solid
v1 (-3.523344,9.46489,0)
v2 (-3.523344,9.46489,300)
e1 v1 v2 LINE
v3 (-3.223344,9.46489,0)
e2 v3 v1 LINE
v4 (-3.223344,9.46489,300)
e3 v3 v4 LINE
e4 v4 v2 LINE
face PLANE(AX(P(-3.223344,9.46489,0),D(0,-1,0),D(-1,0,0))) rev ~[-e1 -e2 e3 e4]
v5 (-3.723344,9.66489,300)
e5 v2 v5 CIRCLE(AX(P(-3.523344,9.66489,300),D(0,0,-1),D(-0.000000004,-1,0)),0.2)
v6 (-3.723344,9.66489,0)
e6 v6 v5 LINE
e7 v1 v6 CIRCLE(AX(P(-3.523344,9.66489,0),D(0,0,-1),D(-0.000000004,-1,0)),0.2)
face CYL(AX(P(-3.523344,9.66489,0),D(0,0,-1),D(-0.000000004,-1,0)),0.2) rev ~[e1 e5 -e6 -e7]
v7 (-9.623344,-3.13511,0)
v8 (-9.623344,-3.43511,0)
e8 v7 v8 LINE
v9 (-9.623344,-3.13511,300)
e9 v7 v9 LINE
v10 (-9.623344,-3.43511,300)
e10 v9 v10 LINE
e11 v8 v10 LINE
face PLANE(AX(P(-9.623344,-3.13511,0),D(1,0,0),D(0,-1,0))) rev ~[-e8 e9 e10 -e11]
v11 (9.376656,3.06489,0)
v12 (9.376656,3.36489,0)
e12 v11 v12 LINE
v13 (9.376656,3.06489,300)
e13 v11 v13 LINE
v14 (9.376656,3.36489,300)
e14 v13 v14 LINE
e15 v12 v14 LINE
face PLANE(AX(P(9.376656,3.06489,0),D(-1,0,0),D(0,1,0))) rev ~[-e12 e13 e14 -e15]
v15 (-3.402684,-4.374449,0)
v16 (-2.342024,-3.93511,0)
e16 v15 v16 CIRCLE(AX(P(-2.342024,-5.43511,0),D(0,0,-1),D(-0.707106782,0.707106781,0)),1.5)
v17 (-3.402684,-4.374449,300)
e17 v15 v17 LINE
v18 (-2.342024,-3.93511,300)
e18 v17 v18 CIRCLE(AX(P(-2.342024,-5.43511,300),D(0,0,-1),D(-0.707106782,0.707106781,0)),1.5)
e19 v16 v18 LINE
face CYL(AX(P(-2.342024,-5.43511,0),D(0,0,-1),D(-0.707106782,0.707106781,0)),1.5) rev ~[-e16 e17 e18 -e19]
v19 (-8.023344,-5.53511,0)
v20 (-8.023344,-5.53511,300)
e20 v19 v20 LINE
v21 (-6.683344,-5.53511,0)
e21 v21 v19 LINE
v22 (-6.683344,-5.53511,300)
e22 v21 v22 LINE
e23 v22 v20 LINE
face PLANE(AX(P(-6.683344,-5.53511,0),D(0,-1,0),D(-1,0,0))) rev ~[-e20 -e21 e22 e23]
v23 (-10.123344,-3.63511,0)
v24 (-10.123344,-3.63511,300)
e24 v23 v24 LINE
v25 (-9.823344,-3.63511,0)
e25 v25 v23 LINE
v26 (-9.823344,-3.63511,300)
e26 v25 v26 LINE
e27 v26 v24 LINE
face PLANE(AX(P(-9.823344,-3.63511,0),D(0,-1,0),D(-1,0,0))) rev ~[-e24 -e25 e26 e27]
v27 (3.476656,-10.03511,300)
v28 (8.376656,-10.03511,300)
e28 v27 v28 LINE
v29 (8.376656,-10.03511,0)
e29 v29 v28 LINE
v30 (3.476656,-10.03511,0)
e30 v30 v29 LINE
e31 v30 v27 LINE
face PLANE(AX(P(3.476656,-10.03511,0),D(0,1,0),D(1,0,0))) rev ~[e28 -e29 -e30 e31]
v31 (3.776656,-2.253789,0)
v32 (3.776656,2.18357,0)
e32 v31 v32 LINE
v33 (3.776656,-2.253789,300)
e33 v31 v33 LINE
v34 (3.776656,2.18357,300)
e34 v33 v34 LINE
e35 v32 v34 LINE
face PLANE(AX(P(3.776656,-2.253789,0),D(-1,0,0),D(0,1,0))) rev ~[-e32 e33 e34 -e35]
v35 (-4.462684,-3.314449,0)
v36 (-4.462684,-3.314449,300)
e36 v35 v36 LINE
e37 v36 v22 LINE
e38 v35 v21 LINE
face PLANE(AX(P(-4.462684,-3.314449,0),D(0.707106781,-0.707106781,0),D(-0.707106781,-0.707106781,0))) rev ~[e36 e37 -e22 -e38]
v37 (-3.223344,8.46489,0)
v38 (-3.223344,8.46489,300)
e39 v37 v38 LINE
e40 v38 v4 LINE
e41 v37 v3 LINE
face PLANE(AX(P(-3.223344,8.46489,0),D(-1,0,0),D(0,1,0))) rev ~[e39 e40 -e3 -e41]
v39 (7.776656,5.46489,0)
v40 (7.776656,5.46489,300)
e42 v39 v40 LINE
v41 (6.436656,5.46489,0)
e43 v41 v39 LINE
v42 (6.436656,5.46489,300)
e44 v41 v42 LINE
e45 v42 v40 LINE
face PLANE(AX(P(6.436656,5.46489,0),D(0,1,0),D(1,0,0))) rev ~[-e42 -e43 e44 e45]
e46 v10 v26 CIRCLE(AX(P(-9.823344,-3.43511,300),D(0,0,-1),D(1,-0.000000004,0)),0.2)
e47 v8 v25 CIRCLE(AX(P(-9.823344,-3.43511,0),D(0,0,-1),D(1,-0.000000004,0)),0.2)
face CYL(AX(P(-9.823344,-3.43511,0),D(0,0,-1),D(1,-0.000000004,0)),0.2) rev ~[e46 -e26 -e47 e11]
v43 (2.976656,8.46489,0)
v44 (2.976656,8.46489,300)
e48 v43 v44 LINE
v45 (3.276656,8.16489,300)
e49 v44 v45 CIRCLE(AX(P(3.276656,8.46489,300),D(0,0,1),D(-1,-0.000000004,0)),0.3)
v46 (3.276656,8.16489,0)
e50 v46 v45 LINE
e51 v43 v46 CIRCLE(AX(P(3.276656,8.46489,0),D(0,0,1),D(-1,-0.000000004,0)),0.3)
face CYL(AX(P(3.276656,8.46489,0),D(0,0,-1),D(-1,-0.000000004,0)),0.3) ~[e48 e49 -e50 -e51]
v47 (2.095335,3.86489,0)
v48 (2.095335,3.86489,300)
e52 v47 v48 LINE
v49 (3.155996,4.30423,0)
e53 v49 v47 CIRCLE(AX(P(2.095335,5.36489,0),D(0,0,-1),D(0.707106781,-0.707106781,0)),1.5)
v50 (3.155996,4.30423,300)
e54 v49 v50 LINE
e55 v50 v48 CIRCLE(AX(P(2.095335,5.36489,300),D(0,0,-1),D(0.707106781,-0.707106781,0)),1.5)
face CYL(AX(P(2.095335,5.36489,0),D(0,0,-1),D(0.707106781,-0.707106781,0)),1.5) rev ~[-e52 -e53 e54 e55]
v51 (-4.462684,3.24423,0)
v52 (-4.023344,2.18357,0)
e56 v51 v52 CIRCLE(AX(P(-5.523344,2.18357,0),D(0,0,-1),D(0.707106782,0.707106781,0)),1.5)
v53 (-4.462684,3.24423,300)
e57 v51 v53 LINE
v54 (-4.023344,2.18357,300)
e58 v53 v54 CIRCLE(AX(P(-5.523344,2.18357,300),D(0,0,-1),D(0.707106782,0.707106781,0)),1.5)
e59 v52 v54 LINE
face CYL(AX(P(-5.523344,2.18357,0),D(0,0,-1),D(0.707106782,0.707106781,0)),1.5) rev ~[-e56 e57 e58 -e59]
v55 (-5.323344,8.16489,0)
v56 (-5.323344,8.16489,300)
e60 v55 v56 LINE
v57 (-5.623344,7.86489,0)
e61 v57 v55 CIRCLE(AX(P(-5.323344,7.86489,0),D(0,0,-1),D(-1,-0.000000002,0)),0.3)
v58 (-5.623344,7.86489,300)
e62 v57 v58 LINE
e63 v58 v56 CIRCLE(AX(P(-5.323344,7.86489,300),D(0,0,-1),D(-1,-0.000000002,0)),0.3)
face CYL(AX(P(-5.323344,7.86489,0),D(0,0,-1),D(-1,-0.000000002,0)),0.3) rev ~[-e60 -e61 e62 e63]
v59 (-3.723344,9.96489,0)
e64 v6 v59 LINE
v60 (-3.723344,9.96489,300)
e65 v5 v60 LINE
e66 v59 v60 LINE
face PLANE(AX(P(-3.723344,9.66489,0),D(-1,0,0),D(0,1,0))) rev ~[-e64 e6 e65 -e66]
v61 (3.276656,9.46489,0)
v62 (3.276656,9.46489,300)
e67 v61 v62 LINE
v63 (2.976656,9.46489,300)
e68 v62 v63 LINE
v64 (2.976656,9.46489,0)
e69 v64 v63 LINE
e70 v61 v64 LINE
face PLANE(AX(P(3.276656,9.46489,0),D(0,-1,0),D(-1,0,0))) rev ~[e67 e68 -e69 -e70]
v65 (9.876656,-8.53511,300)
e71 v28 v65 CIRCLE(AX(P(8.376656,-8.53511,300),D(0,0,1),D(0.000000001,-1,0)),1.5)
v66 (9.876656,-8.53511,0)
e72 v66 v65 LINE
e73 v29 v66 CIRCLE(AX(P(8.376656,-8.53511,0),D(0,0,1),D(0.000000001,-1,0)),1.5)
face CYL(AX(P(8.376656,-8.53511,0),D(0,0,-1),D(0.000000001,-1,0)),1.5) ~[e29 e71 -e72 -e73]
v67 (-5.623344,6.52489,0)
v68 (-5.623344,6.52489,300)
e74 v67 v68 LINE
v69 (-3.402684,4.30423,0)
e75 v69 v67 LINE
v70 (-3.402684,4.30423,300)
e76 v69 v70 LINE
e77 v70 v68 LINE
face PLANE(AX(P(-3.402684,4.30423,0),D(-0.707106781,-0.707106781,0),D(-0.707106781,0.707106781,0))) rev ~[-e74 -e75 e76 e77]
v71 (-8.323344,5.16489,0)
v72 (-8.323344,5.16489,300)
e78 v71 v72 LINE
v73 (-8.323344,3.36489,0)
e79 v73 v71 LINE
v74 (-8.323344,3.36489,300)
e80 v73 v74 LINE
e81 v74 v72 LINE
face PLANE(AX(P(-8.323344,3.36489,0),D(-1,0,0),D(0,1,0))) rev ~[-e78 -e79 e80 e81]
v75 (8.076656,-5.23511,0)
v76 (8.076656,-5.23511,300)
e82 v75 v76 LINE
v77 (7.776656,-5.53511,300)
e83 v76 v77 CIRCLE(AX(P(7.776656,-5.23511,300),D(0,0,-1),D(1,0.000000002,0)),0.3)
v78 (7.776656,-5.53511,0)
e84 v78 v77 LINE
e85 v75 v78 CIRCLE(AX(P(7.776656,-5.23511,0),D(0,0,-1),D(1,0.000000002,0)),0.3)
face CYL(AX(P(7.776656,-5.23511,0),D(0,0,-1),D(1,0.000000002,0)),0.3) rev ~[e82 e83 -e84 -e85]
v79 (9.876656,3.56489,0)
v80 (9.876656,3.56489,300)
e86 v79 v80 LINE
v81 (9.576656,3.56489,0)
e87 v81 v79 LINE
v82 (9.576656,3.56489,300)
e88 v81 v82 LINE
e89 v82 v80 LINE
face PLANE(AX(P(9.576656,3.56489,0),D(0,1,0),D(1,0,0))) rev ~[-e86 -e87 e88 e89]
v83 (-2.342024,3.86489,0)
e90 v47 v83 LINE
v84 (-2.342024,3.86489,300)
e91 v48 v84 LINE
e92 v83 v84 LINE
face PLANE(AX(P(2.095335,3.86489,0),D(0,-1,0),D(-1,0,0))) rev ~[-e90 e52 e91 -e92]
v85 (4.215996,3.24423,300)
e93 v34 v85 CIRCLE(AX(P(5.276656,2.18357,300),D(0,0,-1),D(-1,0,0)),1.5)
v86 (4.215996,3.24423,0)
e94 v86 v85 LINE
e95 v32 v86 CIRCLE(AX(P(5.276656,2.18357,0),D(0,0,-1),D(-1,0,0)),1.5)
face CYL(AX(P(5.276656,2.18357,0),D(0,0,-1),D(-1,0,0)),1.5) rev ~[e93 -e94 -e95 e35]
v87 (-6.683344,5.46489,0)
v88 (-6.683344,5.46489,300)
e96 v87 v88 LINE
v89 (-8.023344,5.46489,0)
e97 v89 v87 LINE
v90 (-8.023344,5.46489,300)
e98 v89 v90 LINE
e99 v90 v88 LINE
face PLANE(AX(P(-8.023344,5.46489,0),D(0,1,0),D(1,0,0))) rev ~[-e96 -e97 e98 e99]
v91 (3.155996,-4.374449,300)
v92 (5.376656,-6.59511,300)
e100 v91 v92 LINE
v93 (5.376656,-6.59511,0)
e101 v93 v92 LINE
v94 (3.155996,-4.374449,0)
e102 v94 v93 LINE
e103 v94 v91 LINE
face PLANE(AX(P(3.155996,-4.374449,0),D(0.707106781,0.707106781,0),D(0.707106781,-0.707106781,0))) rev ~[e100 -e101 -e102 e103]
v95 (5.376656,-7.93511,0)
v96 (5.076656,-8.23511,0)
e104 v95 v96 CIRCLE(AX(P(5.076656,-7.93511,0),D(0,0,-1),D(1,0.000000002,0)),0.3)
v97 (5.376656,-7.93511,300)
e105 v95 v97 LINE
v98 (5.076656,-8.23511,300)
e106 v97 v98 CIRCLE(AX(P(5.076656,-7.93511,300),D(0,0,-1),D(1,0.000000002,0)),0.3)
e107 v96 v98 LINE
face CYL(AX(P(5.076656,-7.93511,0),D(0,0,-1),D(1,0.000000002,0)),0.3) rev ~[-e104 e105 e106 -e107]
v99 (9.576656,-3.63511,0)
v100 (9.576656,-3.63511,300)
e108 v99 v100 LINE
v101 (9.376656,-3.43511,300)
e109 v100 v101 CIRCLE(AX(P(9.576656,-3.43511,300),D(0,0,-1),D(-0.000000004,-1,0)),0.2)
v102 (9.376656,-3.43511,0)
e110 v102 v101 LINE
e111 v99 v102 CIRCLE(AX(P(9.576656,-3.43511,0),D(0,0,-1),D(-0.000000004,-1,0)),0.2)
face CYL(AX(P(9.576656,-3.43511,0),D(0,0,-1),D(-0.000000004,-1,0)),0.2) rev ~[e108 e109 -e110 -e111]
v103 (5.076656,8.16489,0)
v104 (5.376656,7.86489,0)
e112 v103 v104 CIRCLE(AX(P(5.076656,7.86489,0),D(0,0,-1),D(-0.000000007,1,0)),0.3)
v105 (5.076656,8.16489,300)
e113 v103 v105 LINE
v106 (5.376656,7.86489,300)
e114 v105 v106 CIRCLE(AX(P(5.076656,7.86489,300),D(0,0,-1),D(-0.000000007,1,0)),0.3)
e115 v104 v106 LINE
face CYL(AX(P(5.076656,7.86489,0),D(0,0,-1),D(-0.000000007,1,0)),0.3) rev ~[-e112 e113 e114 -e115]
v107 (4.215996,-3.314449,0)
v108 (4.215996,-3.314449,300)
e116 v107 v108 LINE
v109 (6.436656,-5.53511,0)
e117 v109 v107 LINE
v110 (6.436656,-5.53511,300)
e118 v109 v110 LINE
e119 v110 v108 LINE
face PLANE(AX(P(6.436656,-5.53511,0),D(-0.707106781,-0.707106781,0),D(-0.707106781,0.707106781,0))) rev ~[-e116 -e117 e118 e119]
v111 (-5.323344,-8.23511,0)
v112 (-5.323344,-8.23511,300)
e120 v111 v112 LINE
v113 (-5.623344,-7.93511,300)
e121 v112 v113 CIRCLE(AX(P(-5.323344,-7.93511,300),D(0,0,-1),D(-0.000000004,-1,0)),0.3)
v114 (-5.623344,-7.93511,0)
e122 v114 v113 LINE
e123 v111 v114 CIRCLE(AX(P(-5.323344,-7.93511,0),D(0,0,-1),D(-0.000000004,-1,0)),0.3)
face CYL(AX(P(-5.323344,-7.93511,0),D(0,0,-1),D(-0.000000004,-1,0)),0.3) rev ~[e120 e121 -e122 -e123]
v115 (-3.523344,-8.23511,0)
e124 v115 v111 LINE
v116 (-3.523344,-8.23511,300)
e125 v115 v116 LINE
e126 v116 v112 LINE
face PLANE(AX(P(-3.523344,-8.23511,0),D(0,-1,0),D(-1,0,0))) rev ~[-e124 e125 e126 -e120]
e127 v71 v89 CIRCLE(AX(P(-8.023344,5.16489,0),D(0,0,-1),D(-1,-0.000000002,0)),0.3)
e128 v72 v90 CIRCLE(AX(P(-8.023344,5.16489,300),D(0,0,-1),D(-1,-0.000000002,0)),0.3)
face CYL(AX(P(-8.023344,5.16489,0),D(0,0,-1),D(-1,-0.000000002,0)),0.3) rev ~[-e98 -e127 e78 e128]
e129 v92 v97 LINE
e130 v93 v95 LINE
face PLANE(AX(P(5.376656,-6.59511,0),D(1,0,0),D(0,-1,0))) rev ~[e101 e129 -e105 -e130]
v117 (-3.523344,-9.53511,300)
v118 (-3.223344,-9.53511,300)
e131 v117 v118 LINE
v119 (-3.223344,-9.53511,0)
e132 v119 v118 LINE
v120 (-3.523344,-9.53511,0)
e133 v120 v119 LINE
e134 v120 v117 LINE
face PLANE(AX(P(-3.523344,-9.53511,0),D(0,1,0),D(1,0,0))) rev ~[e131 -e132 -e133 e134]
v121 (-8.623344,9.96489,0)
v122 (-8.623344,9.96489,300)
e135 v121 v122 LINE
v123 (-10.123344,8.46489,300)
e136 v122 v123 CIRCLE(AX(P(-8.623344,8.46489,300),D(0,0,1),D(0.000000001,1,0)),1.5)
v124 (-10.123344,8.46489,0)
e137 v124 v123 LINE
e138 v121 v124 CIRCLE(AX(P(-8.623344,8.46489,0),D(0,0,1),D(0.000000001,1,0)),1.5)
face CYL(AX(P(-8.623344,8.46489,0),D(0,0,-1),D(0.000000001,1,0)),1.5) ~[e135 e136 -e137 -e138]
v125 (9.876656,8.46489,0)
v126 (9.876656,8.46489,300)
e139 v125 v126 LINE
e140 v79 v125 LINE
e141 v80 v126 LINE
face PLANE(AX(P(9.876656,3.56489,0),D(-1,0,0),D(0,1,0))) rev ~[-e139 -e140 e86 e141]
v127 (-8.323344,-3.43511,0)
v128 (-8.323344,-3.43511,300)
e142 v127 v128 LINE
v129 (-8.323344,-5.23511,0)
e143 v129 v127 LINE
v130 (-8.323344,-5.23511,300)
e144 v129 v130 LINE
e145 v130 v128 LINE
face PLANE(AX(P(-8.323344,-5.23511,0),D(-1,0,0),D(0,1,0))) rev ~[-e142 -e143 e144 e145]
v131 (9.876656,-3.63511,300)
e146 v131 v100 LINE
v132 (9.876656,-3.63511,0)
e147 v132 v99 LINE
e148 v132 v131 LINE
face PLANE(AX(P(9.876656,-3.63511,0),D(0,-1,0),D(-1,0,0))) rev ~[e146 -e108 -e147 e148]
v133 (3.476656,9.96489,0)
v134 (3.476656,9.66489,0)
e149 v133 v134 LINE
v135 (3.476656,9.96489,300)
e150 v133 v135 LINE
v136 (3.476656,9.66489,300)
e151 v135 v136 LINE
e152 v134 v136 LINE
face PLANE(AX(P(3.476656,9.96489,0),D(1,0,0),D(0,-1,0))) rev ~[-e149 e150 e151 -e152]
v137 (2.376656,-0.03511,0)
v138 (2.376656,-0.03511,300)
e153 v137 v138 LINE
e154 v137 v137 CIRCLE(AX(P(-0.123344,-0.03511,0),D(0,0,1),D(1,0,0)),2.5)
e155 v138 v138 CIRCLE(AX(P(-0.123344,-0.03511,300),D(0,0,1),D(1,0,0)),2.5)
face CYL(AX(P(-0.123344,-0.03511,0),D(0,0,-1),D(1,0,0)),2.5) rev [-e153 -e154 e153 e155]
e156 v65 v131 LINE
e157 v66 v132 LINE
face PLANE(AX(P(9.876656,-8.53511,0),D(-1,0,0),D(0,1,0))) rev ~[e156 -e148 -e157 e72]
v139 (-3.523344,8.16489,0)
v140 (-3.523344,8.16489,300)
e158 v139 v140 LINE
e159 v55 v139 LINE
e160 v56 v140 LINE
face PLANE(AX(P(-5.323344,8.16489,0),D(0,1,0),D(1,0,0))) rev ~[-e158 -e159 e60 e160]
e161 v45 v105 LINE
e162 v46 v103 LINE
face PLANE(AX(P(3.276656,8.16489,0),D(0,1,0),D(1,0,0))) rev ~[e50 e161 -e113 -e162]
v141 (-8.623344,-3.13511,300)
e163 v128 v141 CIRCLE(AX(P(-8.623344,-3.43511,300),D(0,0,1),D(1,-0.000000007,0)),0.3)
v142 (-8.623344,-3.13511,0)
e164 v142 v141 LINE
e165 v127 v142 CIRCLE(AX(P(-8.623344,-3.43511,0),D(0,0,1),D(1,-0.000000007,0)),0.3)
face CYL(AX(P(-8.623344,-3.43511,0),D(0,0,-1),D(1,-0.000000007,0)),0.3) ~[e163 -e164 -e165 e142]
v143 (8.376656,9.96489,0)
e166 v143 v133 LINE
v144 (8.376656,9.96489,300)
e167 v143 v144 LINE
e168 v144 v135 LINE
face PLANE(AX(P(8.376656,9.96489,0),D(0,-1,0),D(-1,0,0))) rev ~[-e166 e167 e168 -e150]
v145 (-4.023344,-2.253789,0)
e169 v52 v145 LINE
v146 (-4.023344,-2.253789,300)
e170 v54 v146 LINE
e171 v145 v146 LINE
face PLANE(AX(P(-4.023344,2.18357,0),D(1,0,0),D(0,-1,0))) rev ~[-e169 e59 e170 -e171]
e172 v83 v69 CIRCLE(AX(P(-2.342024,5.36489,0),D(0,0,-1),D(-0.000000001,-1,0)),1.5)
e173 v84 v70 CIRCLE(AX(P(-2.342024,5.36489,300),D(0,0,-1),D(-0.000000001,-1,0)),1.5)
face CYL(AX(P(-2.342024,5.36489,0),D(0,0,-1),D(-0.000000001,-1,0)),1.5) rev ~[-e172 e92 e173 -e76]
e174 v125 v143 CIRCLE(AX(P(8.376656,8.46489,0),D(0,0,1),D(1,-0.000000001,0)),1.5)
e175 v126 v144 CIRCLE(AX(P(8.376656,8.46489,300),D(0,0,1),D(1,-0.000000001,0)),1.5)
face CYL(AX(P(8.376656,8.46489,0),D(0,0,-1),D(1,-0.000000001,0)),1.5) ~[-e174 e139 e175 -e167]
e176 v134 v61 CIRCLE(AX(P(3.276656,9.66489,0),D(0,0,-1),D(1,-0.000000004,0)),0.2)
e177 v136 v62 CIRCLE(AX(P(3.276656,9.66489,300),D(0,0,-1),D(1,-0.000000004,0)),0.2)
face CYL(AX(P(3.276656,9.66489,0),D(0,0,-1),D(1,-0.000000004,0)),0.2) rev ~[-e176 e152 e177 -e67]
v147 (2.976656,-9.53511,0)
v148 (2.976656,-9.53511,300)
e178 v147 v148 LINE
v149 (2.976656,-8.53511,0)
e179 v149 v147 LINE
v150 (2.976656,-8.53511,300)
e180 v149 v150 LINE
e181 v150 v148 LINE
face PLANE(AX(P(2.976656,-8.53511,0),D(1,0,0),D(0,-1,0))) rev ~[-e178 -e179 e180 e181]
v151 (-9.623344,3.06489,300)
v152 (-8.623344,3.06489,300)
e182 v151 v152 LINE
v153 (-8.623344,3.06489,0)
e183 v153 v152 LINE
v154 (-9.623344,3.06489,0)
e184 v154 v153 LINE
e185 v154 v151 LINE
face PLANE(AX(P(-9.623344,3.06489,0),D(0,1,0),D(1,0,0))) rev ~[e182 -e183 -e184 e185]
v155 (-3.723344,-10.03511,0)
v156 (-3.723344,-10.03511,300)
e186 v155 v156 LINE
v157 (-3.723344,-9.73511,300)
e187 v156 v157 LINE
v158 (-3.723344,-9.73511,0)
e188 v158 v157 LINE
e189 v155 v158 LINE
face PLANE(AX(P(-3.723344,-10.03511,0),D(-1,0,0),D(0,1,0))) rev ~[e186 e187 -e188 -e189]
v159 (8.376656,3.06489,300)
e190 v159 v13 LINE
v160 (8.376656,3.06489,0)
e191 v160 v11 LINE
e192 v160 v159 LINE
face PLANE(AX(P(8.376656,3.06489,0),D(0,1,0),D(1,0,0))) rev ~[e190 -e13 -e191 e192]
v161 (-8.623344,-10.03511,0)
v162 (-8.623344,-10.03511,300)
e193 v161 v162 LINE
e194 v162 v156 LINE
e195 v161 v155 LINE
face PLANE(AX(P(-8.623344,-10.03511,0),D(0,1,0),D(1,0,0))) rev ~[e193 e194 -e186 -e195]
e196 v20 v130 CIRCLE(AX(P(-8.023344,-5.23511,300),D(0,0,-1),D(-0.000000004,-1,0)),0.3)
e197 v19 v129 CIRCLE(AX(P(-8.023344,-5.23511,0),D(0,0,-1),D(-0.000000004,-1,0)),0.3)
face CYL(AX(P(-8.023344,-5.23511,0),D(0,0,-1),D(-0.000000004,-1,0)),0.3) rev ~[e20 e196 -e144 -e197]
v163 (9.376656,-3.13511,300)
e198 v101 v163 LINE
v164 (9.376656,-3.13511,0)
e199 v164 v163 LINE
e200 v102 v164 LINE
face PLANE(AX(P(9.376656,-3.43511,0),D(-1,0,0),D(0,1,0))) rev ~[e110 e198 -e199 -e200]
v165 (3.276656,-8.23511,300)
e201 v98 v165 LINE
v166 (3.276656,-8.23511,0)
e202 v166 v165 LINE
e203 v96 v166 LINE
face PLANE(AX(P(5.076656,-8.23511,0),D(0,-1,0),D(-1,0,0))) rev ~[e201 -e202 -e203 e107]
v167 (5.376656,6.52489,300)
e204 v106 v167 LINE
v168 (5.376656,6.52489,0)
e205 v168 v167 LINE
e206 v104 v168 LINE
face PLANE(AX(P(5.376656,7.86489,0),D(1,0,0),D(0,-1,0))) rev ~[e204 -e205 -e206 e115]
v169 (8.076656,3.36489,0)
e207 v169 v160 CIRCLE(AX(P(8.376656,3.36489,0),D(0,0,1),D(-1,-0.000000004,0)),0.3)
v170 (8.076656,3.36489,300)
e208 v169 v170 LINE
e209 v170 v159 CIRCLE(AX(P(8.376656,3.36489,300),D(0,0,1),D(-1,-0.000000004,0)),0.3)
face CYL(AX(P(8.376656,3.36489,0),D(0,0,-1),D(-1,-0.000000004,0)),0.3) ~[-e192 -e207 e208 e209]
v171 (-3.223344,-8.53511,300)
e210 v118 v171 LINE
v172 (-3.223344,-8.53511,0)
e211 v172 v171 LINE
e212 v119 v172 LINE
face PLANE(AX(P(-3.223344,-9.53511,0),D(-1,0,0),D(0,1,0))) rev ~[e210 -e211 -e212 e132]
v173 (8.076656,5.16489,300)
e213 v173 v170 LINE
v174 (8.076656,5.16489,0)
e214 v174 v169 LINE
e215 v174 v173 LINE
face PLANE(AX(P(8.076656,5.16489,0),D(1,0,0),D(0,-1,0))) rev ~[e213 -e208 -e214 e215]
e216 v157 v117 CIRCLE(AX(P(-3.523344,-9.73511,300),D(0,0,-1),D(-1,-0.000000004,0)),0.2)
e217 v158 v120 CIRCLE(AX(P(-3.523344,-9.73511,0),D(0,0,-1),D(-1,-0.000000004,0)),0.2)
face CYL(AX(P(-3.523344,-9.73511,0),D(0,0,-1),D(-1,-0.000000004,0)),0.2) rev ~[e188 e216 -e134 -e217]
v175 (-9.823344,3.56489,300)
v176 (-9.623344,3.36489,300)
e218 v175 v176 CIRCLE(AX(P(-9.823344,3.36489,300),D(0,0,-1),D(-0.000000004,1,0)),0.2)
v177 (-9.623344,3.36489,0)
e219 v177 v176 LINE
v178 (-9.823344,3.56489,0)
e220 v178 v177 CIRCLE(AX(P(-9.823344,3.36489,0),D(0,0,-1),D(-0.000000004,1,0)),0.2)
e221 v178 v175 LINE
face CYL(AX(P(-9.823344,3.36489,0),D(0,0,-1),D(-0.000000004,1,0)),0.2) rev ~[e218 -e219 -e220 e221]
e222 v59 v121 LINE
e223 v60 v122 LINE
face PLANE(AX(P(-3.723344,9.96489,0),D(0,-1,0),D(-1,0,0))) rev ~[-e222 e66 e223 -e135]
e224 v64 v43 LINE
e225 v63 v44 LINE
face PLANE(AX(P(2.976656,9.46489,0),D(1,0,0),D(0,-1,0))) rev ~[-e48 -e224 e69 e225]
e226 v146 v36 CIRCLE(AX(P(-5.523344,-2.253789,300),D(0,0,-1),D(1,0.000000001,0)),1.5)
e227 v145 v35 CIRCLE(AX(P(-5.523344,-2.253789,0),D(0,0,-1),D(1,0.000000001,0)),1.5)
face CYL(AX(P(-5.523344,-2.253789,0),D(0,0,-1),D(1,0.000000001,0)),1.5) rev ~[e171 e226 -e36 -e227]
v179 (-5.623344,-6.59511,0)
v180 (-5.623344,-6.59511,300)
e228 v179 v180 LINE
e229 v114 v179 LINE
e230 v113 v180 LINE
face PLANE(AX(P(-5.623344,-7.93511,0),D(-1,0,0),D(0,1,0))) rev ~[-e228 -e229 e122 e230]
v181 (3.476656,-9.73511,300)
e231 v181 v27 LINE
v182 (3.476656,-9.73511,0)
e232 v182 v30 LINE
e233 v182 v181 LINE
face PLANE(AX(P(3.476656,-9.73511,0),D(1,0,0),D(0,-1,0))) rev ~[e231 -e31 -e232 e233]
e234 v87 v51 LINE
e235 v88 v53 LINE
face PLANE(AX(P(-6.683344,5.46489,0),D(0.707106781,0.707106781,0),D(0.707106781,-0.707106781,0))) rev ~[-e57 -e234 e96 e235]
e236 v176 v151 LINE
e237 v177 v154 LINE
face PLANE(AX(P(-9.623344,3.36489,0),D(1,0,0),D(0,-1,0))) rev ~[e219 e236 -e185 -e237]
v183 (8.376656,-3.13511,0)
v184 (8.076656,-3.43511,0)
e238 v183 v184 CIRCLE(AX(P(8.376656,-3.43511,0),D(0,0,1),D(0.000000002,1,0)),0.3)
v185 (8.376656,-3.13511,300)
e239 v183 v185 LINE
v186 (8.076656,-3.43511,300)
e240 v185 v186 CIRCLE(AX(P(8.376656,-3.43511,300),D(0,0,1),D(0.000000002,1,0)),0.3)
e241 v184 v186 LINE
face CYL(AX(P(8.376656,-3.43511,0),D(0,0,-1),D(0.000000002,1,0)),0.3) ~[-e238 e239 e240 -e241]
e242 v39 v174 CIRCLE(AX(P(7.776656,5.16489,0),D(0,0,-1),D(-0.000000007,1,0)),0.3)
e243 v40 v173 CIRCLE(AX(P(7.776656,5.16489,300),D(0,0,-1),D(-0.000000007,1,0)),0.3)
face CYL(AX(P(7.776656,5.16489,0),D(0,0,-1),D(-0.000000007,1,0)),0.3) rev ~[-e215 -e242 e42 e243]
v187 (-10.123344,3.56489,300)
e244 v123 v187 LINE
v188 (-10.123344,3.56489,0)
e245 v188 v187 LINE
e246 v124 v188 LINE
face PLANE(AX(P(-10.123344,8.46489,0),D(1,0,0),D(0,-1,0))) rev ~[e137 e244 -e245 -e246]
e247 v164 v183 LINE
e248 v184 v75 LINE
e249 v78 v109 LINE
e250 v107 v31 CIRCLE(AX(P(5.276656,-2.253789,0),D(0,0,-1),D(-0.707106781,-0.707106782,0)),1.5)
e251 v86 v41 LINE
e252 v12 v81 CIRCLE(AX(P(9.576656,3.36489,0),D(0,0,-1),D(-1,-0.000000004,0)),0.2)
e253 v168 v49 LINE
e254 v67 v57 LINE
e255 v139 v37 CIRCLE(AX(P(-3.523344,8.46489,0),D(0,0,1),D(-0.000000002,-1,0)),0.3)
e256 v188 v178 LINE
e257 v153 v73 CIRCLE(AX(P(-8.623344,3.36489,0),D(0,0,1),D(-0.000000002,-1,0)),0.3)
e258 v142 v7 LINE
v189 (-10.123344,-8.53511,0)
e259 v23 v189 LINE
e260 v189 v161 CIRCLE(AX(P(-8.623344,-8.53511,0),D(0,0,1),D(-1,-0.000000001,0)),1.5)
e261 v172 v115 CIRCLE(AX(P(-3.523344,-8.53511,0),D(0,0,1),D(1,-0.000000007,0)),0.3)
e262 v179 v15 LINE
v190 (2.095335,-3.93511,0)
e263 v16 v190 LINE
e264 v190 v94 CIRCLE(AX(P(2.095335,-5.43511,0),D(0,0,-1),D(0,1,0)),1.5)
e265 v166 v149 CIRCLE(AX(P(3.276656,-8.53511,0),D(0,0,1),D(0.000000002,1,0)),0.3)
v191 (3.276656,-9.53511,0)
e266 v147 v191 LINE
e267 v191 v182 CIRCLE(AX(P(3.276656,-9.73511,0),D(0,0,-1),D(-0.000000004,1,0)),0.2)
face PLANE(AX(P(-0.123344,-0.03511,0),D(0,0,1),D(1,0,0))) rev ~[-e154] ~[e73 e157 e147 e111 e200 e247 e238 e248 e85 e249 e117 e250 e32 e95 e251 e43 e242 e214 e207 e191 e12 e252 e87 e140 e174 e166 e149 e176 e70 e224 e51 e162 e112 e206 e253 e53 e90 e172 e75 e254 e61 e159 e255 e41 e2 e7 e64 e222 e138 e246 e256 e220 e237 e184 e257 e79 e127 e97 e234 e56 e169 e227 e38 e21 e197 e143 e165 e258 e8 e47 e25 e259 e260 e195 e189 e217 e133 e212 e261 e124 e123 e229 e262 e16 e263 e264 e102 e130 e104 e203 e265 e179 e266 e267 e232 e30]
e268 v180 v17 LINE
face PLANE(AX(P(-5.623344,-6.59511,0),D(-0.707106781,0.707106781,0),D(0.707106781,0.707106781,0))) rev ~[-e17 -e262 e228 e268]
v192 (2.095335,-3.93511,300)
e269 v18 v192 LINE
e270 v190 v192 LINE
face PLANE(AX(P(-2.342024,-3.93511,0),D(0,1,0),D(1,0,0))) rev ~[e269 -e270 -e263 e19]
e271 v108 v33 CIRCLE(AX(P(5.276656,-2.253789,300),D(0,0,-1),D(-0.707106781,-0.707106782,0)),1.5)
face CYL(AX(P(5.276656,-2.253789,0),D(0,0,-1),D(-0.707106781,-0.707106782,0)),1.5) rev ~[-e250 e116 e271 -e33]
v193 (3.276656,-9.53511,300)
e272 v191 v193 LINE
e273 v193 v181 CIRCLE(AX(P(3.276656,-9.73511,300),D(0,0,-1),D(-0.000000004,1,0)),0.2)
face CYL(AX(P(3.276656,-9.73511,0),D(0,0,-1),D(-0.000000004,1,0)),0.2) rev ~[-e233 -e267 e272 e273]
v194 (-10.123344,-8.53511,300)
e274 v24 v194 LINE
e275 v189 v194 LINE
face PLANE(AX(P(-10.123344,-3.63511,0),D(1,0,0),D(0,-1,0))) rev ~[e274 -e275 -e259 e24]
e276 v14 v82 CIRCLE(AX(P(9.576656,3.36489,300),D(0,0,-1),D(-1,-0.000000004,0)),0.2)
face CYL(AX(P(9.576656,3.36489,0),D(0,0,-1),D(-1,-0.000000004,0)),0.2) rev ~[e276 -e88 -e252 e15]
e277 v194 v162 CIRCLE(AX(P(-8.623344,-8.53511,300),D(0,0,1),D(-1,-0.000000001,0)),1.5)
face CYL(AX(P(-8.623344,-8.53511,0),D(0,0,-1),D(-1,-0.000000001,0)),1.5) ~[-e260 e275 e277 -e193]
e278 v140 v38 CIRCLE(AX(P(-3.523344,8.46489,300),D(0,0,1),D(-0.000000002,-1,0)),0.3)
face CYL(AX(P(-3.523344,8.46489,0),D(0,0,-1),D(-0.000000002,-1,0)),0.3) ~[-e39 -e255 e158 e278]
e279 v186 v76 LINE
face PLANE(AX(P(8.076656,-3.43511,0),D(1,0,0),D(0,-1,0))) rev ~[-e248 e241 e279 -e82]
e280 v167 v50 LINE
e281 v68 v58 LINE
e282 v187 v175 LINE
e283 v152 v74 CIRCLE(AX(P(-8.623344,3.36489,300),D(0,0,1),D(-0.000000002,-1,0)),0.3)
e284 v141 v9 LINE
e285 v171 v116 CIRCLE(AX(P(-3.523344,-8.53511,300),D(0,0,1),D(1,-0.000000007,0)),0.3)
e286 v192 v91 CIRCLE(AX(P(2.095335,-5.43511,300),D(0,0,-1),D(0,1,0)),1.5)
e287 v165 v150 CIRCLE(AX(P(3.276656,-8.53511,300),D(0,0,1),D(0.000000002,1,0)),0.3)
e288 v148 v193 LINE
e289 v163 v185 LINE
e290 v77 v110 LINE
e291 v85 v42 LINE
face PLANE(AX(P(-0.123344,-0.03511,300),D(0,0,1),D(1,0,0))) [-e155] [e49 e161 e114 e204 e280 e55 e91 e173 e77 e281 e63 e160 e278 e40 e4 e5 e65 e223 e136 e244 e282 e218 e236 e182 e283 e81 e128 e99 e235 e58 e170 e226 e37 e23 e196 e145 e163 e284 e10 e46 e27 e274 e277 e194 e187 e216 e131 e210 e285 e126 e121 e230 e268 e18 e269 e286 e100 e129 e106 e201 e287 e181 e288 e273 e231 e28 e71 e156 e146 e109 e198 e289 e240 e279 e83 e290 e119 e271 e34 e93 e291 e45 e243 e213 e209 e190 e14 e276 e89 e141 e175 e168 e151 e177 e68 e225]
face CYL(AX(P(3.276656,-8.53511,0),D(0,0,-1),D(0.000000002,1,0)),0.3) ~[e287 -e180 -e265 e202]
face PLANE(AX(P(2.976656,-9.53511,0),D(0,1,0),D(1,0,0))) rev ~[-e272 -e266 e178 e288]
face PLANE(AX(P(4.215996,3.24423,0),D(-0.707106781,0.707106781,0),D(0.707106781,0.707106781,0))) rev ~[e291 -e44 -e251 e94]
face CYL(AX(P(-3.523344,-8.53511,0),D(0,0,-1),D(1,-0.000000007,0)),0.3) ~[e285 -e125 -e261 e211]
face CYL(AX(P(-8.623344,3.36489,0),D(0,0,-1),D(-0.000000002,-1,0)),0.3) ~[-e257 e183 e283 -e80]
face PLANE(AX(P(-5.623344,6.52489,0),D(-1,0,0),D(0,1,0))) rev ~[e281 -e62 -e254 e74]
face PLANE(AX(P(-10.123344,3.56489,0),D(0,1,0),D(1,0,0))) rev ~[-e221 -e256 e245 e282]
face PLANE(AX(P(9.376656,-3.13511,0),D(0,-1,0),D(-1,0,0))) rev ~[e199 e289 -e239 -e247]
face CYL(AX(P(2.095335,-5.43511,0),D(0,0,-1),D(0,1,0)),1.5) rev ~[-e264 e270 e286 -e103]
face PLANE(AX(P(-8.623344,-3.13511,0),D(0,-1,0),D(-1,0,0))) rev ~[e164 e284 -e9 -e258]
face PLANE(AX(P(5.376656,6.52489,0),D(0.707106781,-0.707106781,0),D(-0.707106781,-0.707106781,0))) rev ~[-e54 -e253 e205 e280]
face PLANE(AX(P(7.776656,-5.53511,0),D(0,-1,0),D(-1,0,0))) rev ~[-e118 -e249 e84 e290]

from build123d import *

# Parameters (mm, degrees)
SKETCH_1_R      = 2.5
EXTRUDE_1_DEPTH = 300


with BuildPart() as part:
    # 草图1 → 凸台-拉伸1 (new body)
    with BuildSketch(Plane.XY):
        with BuildLine():
            Line((4.215995631, 3.244230202), (6.436655803, 5.464890373))
            Line((6.436655803, 5.464890373), (7.776655803, 5.464890373))
            ThreePointArc((7.776655803, 5.464890373), (7.988787838, 5.377022408), (8.076655803, 5.164890373))
            Line((8.076655803, 5.164890373), (8.076655803, 3.364890373))
            ThreePointArc((8.076655803, 3.364890373), (8.164523769, 3.152758339), (8.376655803, 3.064890373))
            Line((8.376655803, 3.064890373), (9.376655803, 3.064890373))
            Line((9.376655803, 3.064890373), (9.376655803, 3.364890373))
            ThreePointArc((9.376655803, 3.364890373), (9.435234447, 3.50631173), (9.576655803, 3.564890373))
            Line((9.576655803, 3.564890373), (9.876655803, 3.564890373))
            Line((9.876655803, 3.564890373), (9.876655803, 8.464890373))
            ThreePointArc((9.876655803, 8.464890373), (9.437315975, 9.525550545), (8.376655803, 9.964890373))
            Line((8.376655803, 9.964890373), (3.476655803, 9.964890373))
            Line((3.476655803, 9.964890373), (3.476655803, 9.664890373))
            ThreePointArc((3.476655803, 9.664890373), (3.418077159, 9.523469017), (3.276655803, 9.464890373))
            Line((3.276655803, 9.464890373), (2.976655803, 9.464890373))
            Line((2.976655803, 9.464890373), (2.976655803, 8.464890373))
            ThreePointArc((2.976655803, 8.464890373), (3.064523769, 8.252758339), (3.276655803, 8.164890373))
            Line((3.276655803, 8.164890373), (5.076655803, 8.164890373))
            ThreePointArc((5.076655803, 8.164890373), (5.288787838, 8.077022408), (5.376655803, 7.864890373))
            Line((5.376655803, 7.864890373), (5.376655803, 6.524890373))
            Line((5.376655803, 6.524890373), (3.155995631, 4.304230202))
            ThreePointArc((3.155995631, 4.304230202), (2.669360608, 3.979071075), (2.09533546, 3.864890373))
            Line((2.09533546, 3.864890373), (-2.342023853, 3.864890373))
            ThreePointArc((-2.342023853, 3.864890373), (-2.916049002, 3.979071075), (-3.402684025, 4.304230202))
            Line((-3.402684025, 4.304230202), (-5.623344197, 6.524890373))
            Line((-5.623344197, 6.524890373), (-5.623344197, 7.864890373))
            ThreePointArc((-5.623344197, 7.864890373), (-5.535476231, 8.077022408), (-5.323344197, 8.164890373))
            Line((-5.323344197, 8.164890373), (-3.523344197, 8.164890373))
            ThreePointArc((-3.523344197, 8.164890373), (-3.311212162, 8.252758339), (-3.223344197, 8.464890373))
            Line((-3.223344197, 8.464890373), (-3.223344197, 9.464890373))
            Line((-3.223344197, 9.464890373), (-3.523344197, 9.464890373))
            ThreePointArc((-3.523344197, 9.464890373), (-3.664765553, 9.523469017), (-3.723344197, 9.664890373))
            Line((-3.723344197, 9.664890373), (-3.723344197, 9.964890373))
            Line((-3.723344197, 9.964890373), (-8.623344197, 9.964890373))
            ThreePointArc((-8.623344197, 9.964890373), (-9.684004369, 9.525550545), (-10.123344197, 8.464890373))
            Line((-10.123344197, 8.464890373), (-10.123344197, 3.564890373))
            Line((-10.123344197, 3.564890373), (-9.823344197, 3.564890373))
            ThreePointArc((-9.823344197, 3.564890373), (-9.681922841, 3.50631173), (-9.623344197, 3.364890373))
            Line((-9.623344197, 3.364890373), (-9.623344197, 3.064890373))
            Line((-9.623344197, 3.064890373), (-8.623344197, 3.064890373))
            ThreePointArc((-8.623344197, 3.064890373), (-8.411212162, 3.152758339), (-8.323344197, 3.364890373))
            Line((-8.323344197, 3.364890373), (-8.323344197, 5.164890373))
            ThreePointArc((-8.323344197, 5.164890373), (-8.235476231, 5.377022408), (-8.023344197, 5.464890373))
            Line((-8.023344197, 5.464890373), (-6.683344197, 5.464890373))
            Line((-6.683344197, 5.464890373), (-4.462684025, 3.244230202))
            ThreePointArc((-4.462684025, 3.244230202), (-4.137524898, 2.757595178), (-4.023344197, 2.18357003))
            Line((-4.023344197, 2.18357003), (-4.023344197, -2.253789283))
            ThreePointArc((-4.023344197, -2.253789283), (-4.137524898, -2.827814432), (-4.462684025, -3.314449455))
            Line((-4.462684025, -3.314449455), (-6.683344197, -5.535109627))
            Line((-6.683344197, -5.535109627), (-8.023344197, -5.535109627))
            ThreePointArc((-8.023344197, -5.535109627), (-8.235476231, -5.447241661), (-8.323344197, -5.235109627))
            Line((-8.323344197, -5.235109627), (-8.323344197, -3.435109627))
            ThreePointArc((-8.323344197, -3.435109627), (-8.411212162, -3.222977592), (-8.623344197, -3.135109627))
            Line((-8.623344197, -3.135109627), (-9.623344197, -3.135109627))
            Line((-9.623344197, -3.135109627), (-9.623344197, -3.435109627))
            ThreePointArc((-9.623344197, -3.435109627), (-9.681922841, -3.576530983), (-9.823344197, -3.635109627))
            Line((-9.823344197, -3.635109627), (-10.123344197, -3.635109627))
            Line((-10.123344197, -3.635109627), (-10.123344197, -8.535109627))
            ThreePointArc((-10.123344197, -8.535109627), (-9.684004369, -9.595769798), (-8.623344197, -10.035109627))
            Line((-8.623344197, -10.035109627), (-3.723344197, -10.035109627))
            Line((-3.723344197, -10.035109627), (-3.723344197, -9.735109627))
            ThreePointArc((-3.723344197, -9.735109627), (-3.664765553, -9.59368827), (-3.523344197, -9.535109627))
            Line((-3.523344197, -9.535109627), (-3.223344197, -9.535109627))
            Line((-3.223344197, -9.535109627), (-3.223344197, -8.535109627))
            ThreePointArc((-3.223344197, -8.535109627), (-3.311212162, -8.322977592), (-3.523344197, -8.235109627))
            Line((-3.523344197, -8.235109627), (-5.323344197, -8.235109627))
            ThreePointArc((-5.323344197, -8.235109627), (-5.535476231, -8.147241661), (-5.623344197, -7.935109627))
            Line((-5.623344197, -7.935109627), (-5.623344197, -6.595109627))
            Line((-5.623344197, -6.595109627), (-3.402684025, -4.374449455))
            ThreePointArc((-3.402684025, -4.374449455), (-2.916049002, -4.049290328), (-2.342023853, -3.935109627))
            Line((-2.342023853, -3.935109627), (2.09533546, -3.935109627))
            ThreePointArc((2.09533546, -3.935109627), (2.669360608, -4.049290328), (3.155995631, -4.374449455))
            Line((3.155995631, -4.374449455), (5.376655803, -6.595109627))
            Line((5.376655803, -6.595109627), (5.376655803, -7.935109627))
            ThreePointArc((5.376655803, -7.935109627), (5.288787838, -8.147241661), (5.076655803, -8.235109627))
            Line((5.076655803, -8.235109627), (3.276655803, -8.235109627))
            ThreePointArc((3.276655803, -8.235109627), (3.064523769, -8.322977592), (2.976655803, -8.535109627))
            Line((2.976655803, -8.535109627), (2.976655803, -9.535109627))
            Line((2.976655803, -9.535109627), (3.276655803, -9.535109627))
            ThreePointArc((3.276655803, -9.535109627), (3.418077159, -9.59368827), (3.476655803, -9.735109627))
            Line((3.476655803, -9.735109627), (3.476655803, -10.035109627))
            Line((3.476655803, -10.035109627), (8.376655803, -10.035109627))
            ThreePointArc((8.376655803, -10.035109627), (9.437315975, -9.595769798), (9.876655803, -8.535109627))
            Line((9.876655803, -8.535109627), (9.876655803, -3.635109627))
            Line((9.876655803, -3.635109627), (9.576655803, -3.635109627))
            ThreePointArc((9.576655803, -3.635109627), (9.435234447, -3.576530983), (9.376655803, -3.435109627))
            Line((9.376655803, -3.435109627), (9.376655803, -3.135109627))
            Line((9.376655803, -3.135109627), (8.376655803, -3.135109627))
            ThreePointArc((8.376655803, -3.135109627), (8.164523769, -3.222977592), (8.076655803, -3.435109627))
            Line((8.076655803, -3.435109627), (8.076655803, -5.235109627))
            ThreePointArc((8.076655803, -5.235109627), (7.988787838, -5.447241661), (7.776655803, -5.535109627))
            Line((7.776655803, -5.535109627), (6.436655803, -5.535109627))
            Line((6.436655803, -5.535109627), (4.215995631, -3.314449455))
            ThreePointArc((4.215995631, -3.314449455), (3.890836504, -2.827814432), (3.776655803, -2.253789283))
            Line((3.776655803, -2.253789283), (3.776655803, 2.18357003))
            ThreePointArc((3.776655803, 2.18357003), (3.890836504, 2.757595178), (4.215995631, 3.244230202))
        make_face()
        with Locations((-0.123344197, -0.035109627)):
            Circle(SKETCH_1_R, mode=Mode.SUBTRACT)
    extrude(amount=EXTRUDE_1_DEPTH)


solid = part.part
